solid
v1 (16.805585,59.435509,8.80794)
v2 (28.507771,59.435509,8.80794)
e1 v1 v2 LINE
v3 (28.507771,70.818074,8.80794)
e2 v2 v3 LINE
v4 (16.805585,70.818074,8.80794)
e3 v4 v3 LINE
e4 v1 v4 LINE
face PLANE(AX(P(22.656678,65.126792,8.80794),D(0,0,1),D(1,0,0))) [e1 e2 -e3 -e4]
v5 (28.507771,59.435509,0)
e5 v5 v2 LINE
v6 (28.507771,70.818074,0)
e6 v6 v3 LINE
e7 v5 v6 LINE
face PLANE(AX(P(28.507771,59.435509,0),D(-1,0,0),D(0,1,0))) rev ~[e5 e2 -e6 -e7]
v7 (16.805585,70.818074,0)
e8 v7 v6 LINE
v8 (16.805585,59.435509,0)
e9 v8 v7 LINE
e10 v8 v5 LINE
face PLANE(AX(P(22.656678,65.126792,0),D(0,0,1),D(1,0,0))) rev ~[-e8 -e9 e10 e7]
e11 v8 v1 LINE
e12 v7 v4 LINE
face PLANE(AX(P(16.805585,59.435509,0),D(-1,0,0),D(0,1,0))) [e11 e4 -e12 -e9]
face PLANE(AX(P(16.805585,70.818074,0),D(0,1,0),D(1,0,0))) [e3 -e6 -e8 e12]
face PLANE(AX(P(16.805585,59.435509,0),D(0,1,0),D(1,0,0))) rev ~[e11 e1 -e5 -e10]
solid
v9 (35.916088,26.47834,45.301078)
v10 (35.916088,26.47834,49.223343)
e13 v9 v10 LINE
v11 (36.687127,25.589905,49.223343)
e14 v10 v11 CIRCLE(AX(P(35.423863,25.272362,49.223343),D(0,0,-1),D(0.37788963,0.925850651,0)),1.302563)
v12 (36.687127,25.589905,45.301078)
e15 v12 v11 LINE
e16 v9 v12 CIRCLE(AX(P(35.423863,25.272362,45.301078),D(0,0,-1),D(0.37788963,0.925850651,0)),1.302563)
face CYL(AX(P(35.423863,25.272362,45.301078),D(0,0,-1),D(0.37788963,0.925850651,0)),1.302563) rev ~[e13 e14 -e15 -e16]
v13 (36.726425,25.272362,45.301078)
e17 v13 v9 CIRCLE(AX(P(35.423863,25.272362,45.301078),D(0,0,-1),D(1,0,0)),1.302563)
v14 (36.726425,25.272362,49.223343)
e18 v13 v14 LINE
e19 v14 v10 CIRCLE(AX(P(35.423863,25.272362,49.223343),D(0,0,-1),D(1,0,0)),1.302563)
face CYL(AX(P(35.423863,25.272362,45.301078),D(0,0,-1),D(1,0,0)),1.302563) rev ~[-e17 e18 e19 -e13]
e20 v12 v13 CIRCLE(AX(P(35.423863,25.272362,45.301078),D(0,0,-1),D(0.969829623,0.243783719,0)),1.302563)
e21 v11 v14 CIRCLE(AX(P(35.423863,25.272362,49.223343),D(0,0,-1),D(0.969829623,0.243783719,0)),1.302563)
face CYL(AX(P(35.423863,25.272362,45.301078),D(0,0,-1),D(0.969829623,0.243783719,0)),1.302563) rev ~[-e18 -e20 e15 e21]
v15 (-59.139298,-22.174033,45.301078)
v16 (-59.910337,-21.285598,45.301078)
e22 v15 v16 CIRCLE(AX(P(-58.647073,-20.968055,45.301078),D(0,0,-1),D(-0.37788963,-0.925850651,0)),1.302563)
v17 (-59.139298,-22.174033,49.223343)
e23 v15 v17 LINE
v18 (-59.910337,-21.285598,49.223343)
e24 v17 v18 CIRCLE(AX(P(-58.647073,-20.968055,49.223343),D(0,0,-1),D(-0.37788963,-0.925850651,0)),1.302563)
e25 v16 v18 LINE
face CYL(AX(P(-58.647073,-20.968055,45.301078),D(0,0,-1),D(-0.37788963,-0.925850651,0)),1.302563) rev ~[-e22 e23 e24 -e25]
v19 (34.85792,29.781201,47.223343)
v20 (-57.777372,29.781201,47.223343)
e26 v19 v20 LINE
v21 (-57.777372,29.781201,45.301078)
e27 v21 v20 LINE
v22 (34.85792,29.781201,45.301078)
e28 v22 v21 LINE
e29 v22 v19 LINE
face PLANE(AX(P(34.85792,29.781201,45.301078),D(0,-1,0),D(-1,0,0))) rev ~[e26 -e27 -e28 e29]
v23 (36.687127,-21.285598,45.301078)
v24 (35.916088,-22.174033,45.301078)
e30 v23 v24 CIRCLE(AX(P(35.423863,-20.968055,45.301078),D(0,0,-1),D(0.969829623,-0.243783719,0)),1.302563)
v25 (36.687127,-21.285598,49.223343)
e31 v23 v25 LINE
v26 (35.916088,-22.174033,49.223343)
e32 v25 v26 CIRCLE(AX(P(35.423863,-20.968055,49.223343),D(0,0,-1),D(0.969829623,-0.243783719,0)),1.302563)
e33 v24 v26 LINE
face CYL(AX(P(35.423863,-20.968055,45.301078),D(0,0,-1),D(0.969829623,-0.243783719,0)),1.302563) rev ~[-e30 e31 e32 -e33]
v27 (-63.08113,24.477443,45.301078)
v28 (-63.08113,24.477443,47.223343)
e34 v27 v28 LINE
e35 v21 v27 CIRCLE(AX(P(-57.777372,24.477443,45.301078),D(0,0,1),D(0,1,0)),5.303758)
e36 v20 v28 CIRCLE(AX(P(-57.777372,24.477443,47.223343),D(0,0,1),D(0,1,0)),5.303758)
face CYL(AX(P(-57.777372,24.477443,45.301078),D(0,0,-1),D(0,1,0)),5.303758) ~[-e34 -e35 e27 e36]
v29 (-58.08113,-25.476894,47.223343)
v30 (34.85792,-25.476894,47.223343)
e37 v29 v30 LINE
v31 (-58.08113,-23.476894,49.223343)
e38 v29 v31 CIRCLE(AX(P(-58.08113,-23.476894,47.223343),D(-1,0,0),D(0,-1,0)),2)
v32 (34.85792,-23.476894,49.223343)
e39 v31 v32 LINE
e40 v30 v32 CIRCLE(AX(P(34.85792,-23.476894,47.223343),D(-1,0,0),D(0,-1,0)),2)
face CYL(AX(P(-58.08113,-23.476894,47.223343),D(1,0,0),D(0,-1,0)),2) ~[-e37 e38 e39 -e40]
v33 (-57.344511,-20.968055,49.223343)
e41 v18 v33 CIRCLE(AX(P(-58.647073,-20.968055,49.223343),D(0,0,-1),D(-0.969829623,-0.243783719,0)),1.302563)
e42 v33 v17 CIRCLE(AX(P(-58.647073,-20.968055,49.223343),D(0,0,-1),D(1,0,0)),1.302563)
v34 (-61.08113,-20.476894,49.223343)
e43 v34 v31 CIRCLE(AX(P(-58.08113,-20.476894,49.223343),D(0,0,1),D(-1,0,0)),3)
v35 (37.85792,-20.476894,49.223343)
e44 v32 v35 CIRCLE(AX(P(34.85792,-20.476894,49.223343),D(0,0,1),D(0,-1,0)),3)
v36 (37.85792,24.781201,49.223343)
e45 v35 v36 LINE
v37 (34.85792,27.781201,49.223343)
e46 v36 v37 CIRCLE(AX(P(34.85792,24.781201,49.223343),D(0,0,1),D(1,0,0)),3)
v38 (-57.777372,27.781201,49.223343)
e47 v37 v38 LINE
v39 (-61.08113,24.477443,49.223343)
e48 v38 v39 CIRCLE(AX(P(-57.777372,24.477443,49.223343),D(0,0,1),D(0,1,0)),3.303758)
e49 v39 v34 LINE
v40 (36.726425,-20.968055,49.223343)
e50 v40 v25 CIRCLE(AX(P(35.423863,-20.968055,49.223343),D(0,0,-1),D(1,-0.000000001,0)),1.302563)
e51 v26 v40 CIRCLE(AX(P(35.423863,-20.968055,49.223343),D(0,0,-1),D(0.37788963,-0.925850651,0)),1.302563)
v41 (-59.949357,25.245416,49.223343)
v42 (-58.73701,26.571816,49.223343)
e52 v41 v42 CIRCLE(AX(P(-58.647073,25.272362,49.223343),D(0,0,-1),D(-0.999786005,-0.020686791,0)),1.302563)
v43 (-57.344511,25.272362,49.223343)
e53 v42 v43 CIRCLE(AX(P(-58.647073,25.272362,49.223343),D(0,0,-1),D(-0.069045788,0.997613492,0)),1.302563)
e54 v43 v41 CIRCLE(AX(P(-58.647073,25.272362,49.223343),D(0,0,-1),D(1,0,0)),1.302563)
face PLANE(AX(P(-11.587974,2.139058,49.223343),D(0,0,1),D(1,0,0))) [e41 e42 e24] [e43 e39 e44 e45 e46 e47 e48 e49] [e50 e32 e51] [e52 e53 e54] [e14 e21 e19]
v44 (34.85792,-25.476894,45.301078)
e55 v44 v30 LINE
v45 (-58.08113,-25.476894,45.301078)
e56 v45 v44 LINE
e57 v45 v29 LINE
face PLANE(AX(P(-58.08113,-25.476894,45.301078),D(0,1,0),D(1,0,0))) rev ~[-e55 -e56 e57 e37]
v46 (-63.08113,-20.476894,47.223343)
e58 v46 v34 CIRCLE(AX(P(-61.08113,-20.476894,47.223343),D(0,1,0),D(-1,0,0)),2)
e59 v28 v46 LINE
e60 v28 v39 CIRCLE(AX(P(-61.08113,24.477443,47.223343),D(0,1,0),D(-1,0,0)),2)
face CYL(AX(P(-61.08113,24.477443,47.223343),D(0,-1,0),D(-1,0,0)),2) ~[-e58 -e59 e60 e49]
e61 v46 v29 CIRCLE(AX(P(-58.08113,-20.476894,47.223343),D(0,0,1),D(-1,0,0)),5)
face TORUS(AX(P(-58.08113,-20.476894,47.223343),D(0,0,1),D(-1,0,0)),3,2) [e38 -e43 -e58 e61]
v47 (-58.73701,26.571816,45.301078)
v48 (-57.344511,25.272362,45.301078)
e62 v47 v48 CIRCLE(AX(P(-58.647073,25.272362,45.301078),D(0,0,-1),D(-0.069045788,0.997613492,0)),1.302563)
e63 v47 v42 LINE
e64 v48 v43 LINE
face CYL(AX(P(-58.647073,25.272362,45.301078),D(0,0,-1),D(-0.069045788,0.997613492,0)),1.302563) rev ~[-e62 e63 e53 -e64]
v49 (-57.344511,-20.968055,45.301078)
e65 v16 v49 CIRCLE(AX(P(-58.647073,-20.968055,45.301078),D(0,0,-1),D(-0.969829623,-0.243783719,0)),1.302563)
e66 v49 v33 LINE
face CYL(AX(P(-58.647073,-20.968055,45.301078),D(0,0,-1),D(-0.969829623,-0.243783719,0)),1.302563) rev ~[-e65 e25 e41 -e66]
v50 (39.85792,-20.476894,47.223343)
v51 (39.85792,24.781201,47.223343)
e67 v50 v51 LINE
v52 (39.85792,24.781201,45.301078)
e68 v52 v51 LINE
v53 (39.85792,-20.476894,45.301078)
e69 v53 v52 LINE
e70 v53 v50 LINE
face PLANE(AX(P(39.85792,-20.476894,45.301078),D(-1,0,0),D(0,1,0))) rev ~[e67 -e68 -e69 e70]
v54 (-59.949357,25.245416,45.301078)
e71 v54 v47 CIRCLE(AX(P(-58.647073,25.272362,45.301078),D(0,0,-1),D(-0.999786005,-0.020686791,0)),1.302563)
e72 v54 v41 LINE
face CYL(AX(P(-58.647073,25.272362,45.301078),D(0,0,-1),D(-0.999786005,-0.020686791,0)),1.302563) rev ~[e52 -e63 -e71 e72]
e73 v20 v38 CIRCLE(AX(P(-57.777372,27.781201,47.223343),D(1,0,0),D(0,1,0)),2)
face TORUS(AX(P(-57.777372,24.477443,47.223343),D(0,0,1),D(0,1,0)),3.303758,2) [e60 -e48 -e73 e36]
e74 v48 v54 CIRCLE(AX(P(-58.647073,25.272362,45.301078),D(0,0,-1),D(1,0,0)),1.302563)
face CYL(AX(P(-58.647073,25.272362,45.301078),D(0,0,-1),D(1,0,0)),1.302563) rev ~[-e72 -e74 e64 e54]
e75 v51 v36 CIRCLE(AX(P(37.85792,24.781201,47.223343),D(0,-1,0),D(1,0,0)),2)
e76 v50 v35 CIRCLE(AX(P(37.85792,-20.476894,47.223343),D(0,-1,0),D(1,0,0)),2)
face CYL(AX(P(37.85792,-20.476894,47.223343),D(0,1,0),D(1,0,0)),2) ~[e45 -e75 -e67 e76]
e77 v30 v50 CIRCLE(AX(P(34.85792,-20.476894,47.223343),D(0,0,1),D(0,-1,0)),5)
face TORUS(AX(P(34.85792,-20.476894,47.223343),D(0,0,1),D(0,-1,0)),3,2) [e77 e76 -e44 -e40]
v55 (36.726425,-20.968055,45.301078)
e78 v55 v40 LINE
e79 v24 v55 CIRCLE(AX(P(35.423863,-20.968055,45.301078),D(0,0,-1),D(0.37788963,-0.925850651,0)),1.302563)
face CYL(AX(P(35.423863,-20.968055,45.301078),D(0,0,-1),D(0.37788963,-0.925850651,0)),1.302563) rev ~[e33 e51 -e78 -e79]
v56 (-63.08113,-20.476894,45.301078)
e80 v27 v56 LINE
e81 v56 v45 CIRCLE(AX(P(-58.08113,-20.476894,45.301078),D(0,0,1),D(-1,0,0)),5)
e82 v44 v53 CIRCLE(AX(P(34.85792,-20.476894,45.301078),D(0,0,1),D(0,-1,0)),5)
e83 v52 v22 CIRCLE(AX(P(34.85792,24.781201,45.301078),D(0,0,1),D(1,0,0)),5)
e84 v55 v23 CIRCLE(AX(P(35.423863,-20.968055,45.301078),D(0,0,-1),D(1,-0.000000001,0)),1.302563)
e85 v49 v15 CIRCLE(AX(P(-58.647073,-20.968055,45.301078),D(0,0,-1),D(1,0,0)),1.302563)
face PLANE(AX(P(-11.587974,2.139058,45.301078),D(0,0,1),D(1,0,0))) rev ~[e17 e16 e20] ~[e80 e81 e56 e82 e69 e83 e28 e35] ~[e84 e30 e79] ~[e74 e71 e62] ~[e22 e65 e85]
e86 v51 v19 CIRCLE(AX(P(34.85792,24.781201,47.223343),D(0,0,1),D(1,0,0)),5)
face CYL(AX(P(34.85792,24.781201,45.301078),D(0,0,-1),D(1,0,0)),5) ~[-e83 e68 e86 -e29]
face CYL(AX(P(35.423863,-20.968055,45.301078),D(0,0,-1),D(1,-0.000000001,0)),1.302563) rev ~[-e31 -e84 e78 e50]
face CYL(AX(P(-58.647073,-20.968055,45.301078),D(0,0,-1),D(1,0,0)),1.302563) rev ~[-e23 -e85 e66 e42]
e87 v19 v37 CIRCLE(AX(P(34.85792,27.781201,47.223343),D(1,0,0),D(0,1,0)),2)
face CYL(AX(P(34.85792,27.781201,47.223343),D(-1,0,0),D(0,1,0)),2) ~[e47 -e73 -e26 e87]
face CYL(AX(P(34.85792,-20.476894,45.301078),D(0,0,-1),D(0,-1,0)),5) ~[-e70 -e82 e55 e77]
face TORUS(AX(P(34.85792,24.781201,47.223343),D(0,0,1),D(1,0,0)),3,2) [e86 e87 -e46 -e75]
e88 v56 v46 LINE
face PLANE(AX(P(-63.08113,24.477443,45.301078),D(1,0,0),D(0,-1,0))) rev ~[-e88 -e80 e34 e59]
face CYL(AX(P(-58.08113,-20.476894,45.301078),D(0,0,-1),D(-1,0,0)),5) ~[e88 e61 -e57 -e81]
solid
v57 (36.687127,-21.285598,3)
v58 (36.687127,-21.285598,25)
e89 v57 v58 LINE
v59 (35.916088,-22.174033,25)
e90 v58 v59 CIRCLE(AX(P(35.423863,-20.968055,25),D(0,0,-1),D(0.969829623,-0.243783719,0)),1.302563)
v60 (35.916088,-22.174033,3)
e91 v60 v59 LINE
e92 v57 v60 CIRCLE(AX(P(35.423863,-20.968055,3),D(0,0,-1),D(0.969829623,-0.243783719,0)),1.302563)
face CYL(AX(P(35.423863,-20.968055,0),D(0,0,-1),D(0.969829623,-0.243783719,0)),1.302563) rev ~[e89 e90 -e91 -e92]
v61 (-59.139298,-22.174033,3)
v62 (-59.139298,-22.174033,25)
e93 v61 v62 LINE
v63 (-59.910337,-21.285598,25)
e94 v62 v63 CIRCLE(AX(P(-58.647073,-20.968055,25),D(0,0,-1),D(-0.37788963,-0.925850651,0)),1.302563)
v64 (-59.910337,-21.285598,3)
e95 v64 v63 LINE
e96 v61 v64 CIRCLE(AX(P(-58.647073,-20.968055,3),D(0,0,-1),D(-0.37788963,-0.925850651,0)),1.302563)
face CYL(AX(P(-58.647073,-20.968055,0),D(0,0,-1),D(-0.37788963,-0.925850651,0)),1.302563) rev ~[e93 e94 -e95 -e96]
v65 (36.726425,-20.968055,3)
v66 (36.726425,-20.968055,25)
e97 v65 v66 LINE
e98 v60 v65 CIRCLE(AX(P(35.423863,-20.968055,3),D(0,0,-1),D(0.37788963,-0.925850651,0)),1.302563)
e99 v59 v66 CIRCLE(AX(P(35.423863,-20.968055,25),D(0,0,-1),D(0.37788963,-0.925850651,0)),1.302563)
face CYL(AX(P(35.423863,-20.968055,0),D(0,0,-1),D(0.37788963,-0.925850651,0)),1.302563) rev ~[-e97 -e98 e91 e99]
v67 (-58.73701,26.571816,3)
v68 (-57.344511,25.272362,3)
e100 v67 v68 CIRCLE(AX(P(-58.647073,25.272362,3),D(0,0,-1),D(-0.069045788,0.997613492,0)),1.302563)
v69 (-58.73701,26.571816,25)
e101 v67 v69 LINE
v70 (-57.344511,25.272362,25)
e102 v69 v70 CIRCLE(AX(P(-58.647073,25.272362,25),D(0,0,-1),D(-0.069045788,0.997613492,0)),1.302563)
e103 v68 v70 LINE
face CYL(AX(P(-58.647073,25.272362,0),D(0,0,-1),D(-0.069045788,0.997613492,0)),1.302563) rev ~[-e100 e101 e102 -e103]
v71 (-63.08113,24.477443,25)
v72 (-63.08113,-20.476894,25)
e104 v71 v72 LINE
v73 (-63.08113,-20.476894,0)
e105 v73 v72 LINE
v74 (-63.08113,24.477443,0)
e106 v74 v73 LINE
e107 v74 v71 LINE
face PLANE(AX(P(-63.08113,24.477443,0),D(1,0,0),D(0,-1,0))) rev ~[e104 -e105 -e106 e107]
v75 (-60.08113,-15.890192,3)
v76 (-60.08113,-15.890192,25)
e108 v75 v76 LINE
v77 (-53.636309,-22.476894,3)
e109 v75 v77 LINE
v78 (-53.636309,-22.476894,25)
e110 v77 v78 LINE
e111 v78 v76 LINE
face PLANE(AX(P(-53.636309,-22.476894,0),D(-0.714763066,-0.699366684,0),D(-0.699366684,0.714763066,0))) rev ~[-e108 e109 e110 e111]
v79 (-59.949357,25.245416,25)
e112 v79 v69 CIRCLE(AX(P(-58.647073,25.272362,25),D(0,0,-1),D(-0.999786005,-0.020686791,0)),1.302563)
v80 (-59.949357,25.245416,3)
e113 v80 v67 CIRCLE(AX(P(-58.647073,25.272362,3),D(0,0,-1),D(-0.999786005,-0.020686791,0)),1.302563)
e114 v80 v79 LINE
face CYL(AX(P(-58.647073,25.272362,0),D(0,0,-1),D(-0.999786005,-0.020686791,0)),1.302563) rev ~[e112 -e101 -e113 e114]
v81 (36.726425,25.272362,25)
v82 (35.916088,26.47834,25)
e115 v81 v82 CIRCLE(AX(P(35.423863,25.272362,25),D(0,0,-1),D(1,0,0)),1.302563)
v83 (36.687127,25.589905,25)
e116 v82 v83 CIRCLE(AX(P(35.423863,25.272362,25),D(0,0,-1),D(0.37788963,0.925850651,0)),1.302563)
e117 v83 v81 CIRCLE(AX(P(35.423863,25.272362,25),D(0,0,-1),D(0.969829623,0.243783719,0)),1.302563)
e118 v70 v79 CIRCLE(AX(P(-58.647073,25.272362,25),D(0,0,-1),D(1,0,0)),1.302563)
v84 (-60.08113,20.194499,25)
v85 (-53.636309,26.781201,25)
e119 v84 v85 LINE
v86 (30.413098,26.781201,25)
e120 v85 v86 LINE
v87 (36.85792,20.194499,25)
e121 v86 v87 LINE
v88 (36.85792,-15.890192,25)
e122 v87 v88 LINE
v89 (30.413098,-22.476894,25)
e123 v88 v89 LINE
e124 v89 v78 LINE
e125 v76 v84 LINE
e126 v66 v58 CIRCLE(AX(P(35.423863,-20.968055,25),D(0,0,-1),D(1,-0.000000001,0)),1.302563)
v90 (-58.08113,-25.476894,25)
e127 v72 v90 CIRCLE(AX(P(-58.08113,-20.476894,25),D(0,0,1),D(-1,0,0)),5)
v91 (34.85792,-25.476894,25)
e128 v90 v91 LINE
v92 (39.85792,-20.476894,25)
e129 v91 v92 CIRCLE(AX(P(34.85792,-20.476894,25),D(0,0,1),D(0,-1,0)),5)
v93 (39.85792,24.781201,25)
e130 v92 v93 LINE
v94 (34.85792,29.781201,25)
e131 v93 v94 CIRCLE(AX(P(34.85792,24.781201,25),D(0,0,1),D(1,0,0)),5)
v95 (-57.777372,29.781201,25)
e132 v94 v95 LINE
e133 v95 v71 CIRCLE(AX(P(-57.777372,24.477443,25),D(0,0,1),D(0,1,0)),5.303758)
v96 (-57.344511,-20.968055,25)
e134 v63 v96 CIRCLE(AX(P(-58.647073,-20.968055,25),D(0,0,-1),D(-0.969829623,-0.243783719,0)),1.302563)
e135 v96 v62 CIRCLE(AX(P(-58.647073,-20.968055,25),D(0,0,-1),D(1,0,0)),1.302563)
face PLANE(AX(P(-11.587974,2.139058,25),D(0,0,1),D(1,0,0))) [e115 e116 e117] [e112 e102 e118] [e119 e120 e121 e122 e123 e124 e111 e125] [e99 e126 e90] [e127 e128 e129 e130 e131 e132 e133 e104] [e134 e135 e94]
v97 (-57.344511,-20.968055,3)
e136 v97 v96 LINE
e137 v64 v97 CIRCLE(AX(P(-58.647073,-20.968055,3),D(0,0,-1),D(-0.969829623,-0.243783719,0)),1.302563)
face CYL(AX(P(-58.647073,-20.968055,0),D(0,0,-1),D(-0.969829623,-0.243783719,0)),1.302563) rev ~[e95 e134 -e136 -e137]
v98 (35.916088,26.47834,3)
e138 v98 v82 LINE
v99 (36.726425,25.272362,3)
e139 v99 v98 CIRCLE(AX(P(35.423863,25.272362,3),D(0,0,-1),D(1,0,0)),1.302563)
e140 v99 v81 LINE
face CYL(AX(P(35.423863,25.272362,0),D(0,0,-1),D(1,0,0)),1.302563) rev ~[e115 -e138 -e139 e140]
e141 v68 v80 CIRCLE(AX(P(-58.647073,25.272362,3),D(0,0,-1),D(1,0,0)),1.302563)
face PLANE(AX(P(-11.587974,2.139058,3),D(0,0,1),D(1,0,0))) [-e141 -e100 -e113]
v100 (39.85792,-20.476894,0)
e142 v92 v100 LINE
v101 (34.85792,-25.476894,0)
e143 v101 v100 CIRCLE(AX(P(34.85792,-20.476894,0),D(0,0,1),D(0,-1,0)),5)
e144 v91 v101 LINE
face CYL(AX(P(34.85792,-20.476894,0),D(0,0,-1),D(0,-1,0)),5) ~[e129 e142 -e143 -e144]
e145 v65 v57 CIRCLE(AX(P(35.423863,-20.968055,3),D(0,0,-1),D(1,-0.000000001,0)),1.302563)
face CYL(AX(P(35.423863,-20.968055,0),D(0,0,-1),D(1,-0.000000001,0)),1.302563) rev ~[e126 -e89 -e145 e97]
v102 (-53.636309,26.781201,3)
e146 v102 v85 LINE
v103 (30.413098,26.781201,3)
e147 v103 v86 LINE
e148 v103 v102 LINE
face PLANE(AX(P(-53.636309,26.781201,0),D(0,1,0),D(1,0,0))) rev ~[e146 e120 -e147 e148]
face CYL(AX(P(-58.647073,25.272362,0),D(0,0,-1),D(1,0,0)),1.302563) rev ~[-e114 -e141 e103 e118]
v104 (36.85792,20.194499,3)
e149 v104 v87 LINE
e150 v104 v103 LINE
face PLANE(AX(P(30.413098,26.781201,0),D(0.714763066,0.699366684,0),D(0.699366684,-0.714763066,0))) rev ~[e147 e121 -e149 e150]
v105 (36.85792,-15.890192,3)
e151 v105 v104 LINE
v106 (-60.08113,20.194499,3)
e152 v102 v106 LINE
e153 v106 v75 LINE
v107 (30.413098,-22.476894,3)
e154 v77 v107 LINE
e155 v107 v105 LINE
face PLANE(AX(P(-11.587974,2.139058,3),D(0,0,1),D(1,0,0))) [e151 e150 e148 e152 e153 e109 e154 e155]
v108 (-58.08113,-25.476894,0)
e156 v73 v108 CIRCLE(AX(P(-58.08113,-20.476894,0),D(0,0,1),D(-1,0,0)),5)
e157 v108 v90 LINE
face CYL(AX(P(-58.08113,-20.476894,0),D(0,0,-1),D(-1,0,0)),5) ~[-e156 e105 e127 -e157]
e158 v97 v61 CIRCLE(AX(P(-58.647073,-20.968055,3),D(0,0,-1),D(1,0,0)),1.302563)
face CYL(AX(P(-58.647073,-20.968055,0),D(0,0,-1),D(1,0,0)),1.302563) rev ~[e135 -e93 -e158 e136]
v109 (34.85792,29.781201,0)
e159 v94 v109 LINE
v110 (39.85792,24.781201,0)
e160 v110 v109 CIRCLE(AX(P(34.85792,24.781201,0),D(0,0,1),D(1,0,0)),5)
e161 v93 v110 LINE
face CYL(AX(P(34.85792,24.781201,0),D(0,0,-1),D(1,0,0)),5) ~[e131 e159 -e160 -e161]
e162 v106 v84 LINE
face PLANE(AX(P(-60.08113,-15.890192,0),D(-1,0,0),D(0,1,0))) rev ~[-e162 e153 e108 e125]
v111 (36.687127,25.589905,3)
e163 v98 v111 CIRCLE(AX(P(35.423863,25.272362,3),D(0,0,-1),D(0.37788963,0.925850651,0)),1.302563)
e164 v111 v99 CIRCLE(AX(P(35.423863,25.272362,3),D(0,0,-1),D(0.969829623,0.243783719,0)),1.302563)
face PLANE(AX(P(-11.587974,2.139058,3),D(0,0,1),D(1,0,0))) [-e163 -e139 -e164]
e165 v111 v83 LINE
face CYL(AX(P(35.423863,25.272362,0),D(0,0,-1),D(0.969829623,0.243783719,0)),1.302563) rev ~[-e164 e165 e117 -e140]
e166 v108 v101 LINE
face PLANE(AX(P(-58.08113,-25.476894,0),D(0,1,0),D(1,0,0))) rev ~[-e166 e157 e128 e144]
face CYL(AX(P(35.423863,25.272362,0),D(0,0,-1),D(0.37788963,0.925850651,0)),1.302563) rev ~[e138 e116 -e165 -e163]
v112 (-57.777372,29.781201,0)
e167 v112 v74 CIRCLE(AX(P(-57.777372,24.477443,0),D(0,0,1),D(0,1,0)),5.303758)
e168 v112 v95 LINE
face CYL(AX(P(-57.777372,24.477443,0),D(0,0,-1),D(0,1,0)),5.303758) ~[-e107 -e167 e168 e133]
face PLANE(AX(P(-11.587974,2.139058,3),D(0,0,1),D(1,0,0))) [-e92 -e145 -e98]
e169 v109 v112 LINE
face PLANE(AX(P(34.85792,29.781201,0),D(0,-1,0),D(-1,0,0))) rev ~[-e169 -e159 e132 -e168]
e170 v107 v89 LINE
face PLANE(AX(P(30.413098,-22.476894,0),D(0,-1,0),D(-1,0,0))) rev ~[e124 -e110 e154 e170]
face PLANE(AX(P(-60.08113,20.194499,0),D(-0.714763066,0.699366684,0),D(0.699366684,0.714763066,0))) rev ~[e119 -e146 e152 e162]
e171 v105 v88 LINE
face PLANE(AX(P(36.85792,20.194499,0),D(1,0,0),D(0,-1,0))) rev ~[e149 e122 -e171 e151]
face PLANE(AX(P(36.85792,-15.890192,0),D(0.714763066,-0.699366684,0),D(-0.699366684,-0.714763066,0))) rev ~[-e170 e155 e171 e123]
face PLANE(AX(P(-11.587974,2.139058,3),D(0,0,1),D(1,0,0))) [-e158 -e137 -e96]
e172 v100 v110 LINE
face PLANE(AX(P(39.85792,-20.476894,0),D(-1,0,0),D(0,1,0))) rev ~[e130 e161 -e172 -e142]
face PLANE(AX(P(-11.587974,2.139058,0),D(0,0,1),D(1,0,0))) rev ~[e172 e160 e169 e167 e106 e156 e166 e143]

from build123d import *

# Parameters (mm, degrees)
F1_W     = 11.7021854967
F1_H     = 11.3825649023
F2_DEPTH = 8.80794
F4_DEPTH = 3
F3_DEPTH = 25
F5_START = 45.3010783531
F5_DEPTH = 3.9222645573
F6_R     = 2


with BuildPart() as f2:
    # F1 (on Top) → F2 (new body)
    with BuildSketch(Plane.XY):
        with Locations((22.6566782221, 65.1267915964)):
            Rectangle(F1_W, F1_H)
    extrude(amount=F2_DEPTH)


with BuildPart() as f4:
    # F0 (on Top) → F4 (new body)
    with BuildSketch(Plane.XY):
        with BuildLine():
            Line((34.857919652, 29.7812012451), (-57.7773717009, 29.7812012451))
            ThreePointArc((-57.7773717009, 29.7812012451), (-61.5276951664, 28.2277664023), (-63.0811300092, 24.4774429368))
            Line((-63.0811300092, 24.4774429368), (-63.0811300092, -20.4768940194))
            ThreePointArc((-63.0811300092, -20.4768940194), (-61.6166639151, -24.0124279253), (-58.0811300092, -25.4768940194))
            Line((-58.0811300092, -25.4768940194), (34.857919652, -25.4768940194))
            ThreePointArc((34.857919652, -25.4768940194), (38.3934535579, -24.0124279253), (39.857919652, -20.4768940194))
            Line((39.857919652, -20.4768940194), (39.857919652, 24.7812012451))
            ThreePointArc((39.857919652, 24.7812012451), (38.3934535579, 28.316735151), (34.857919652, 29.7812012451))
        make_face()
        with BuildLine():
            ThreePointArc((-58.73700955, 26.5718157645), (-58.2684793981, 26.728246254), (-57.7773717009, 26.7812012451))
            Line((-57.7773717009, 26.7812012451), (-53.6363086646, 26.7812012451))
            Line((-53.6363086646, 26.7812012451), (30.4130983075, 26.7812012451))
            Line((30.4130983075, 26.7812012451), (34.857919652, 26.7812012451))
            ThreePointArc((34.857919652, 26.7812012451), (35.4082478015, 26.7039958071), (35.9160876252, 26.4783401729))
            ThreePointArc((35.9160876252, 26.4783401729), (36.4076128264, 26.1261211128), (36.6871265124, 25.5899053082))
            ThreePointArc((36.6871265124, 25.5899053082), (36.8147555829, 25.1944725114), (36.857919652, 24.7812012451))
            Line((36.857919652, 24.7812012451), (36.857919652, 20.1944987733))
            Line((36.857919652, 20.1944987733), (36.857919652, -15.8901915476))
            Line((36.857919652, -15.8901915476), (36.857919652, -20.4768940194))
            ThreePointArc((36.857919652, -20.4768940194), (36.8147555829, -20.8901652857), (36.6871265124, -21.2855980825))
            ThreePointArc((36.6871265124, -21.2855980825), (36.4076128264, -21.8218138871), (35.9160876252, -22.1740329472))
            ThreePointArc((35.9160876252, -22.1740329472), (35.4082478015, -22.3996885814), (34.857919652, -22.4768940194))
            Line((34.857919652, -22.4768940194), (30.4130983075, -22.4768940194))
            Line((30.4130983075, -22.4768940194), (-53.6363086646, -22.4768940194))
            Line((-53.6363086646, -22.4768940194), (-58.0811300092, -22.4768940194))
            ThreePointArc((-58.0811300092, -22.4768940194), (-58.6314581587, -22.3996885814), (-59.1392979824, -22.1740329472))
            ThreePointArc((-59.1392979824, -22.1740329472), (-59.6308231836, -21.8218138871), (-59.9103368696, -21.2855980825))
            ThreePointArc((-59.9103368696, -21.2855980825), (-60.0379659401, -20.8901652857), (-60.0811300092, -20.4768940194))
            Line((-60.0811300092, -20.4768940194), (-60.0811300092, -15.8901915476))
            Line((-60.0811300092, -15.8901915476), (-60.0811300092, 20.1944987733))
            Line((-60.0811300092, 20.1944987733), (-60.0811300092, 24.4774429368))
            ThreePointArc((-60.0811300092, 24.4774429368), (-60.0479477693, 24.8670410125), (-59.9493569321, 25.2454159171))
            ThreePointArc((-59.9493569321, 25.2454159171), (-59.6085321277, 26.1511483084), (-58.73700955, 26.5718157645))
        make_face(mode=Mode.SUBTRACT)
        Polygon((30.4130983075, 26.7812012451), (-53.6363086646, 26.7812012451), (-60.0811300092, 20.1944987733), (-60.0811300092, -15.8901915476), (-53.6363086646, -22.4768940194), (30.4130983075, -22.4768940194), (36.857919652, -15.8901915476), (36.857919652, 20.1944987733), align=None)
        with BuildLine():
            Line((34.857919652, 26.7812012451), (30.4130983075, 26.7812012451))
            Line((30.4130983075, 26.7812012451), (36.857919652, 20.1944987733))
            Line((36.857919652, 20.1944987733), (36.857919652, 24.7812012451))
            ThreePointArc((36.857919652, 24.7812012451), (36.8147555829, 25.1944725114), (36.6871265124, 25.5899053082))
            ThreePointArc((36.6871265124, 25.5899053082), (36.7165632812, 25.4323448054), (36.7264253162, 25.2723617573))
            ThreePointArc((36.7264253162, 25.2723617573), (34.342700624, 24.5458923649), (35.9160876252, 26.4783401729))
            ThreePointArc((35.9160876252, 26.4783401729), (35.4082478015, 26.7039958071), (34.857919652, 26.7812012451))
        make_face()
        with BuildLine():
            Line((-53.6363086646, -22.4768940194), (-60.0811300092, -15.8901915476))
            Line((-60.0811300092, -15.8901915476), (-60.0811300092, -20.4768940194))
            ThreePointArc((-60.0811300092, -20.4768940194), (-60.0379659401, -20.8901652857), (-59.9103368696, -21.2855980825))
            ThreePointArc((-59.9103368696, -21.2855980825), (-58.8070561381, -19.6753539832), (-57.3445105066, -20.9680545316))
            ThreePointArc((-57.3445105066, -20.9680545316), (-57.9206036976, -22.0492166404), (-59.1392979824, -22.1740329472))
            ThreePointArc((-59.1392979824, -22.1740329472), (-58.6314581587, -22.3996885814), (-58.0811300092, -22.4768940194))
            Line((-58.0811300092, -22.4768940194), (-53.6363086646, -22.4768940194))
        make_face()
        with BuildLine():
            Line((36.857919652, -20.4768940194), (36.857919652, -15.8901915476))
            Line((36.857919652, -15.8901915476), (30.4130983075, -22.4768940194))
            Line((30.4130983075, -22.4768940194), (34.857919652, -22.4768940194))
            ThreePointArc((34.857919652, -22.4768940194), (35.4082478015, -22.3996885814), (35.9160876252, -22.1740329472))
            ThreePointArc((35.9160876252, -22.1740329472), (34.342700624, -20.2415851392), (36.7264253162, -20.9680545316))
            ThreePointArc((36.7264253162, -20.9680545316), (36.7165632812, -21.1280375797), (36.6871265124, -21.2855980825))
            ThreePointArc((36.6871265124, -21.2855980825), (36.8147555829, -20.8901652857), (36.857919652, -20.4768940194))
        make_face()
        with BuildLine():
            Line((-53.6363086646, 26.7812012451), (-57.7773717009, 26.7812012451))
            ThreePointArc((-57.7773717009, 26.7812012451), (-58.2684793981, 26.728246254), (-58.73700955, 26.5718157645))
            ThreePointArc((-58.73700955, 26.5718157645), (-57.7583882707, 26.2246792336), (-57.3445105066, 25.2723617573))
            ThreePointArc((-57.3445105066, 25.2723617573), (-58.6335994491, 23.9698688611), (-59.9493569321, 25.2454159171))
            ThreePointArc((-59.9493569321, 25.2454159171), (-60.0479477693, 24.8670410125), (-60.0811300092, 24.4774429368))
            Line((-60.0811300092, 24.4774429368), (-60.0811300092, 20.1944987733))
            Line((-60.0811300092, 20.1944987733), (-53.6363086646, 26.7812012451))
        make_face()
        with BuildLine():
            ThreePointArc((-57.3445105066, -20.9680545316), (-58.8070561381, -19.6753539832), (-59.9103368696, -21.2855980825))
            ThreePointArc((-59.9103368696, -21.2855980825), (-59.591614198, -21.7877858972), (-59.1392979824, -22.1740329472))
            ThreePointArc((-59.1392979824, -22.1740329472), (-57.9206036976, -22.0492166404), (-57.3445105066, -20.9680545316))
        make_face()
        with BuildLine():
            ThreePointArc((36.6871265124, 25.5899053082), (36.3684038408, 26.0920931229), (35.9160876252, 26.4783401729))
            ThreePointArc((35.9160876252, 26.4783401729), (34.342700624, 24.5458923649), (36.7264253162, 25.2723617573))
            ThreePointArc((36.7264253162, 25.2723617573), (36.7165632812, 25.4323448054), (36.6871265124, 25.5899053082))
        make_face()
        with BuildLine():
            ThreePointArc((35.9160876252, -22.1740329472), (36.3684038408, -21.7877858972), (36.6871265124, -21.2855980825))
            ThreePointArc((36.6871265124, -21.2855980825), (36.7165632812, -21.1280375797), (36.7264253162, -20.9680545316))
            ThreePointArc((36.7264253162, -20.9680545316), (34.342700624, -20.2415851392), (35.9160876252, -22.1740329472))
        make_face()
        with BuildLine():
            ThreePointArc((-57.3445105066, 25.2723617573), (-57.7583882707, 26.2246792336), (-58.73700955, 26.5718157645))
            ThreePointArc((-58.73700955, 26.5718157645), (-59.4778421999, 26.0316959487), (-59.9493569321, 25.2454159171))
            ThreePointArc((-59.9493569321, 25.2454159171), (-58.6335994491, 23.9698688611), (-57.3445105066, 25.2723617573))
        make_face()
        with BuildLine():
            ThreePointArc((-59.9493569321, 25.2454159171), (-59.4778421999, 26.0316959487), (-58.73700955, 26.5718157645))
            ThreePointArc((-58.73700955, 26.5718157645), (-59.6085321277, 26.1511483084), (-59.9493569321, 25.2454159171))
        make_face()
        with BuildLine():
            ThreePointArc((-59.1392979824, -22.1740329472), (-59.591614198, -21.7877858972), (-59.9103368696, -21.2855980825))
            ThreePointArc((-59.9103368696, -21.2855980825), (-59.6308231836, -21.8218138871), (-59.1392979824, -22.1740329472))
        make_face()
        with BuildLine():
            ThreePointArc((36.6871265124, 25.5899053082), (36.4076128264, 26.1261211128), (35.9160876252, 26.4783401729))
            ThreePointArc((35.9160876252, 26.4783401729), (36.3684038408, 26.0920931229), (36.6871265124, 25.5899053082))
        make_face()
        with BuildLine():
            ThreePointArc((35.9160876252, -22.1740329472), (36.4076128264, -21.8218138871), (36.6871265124, -21.2855980825))
            ThreePointArc((36.6871265124, -21.2855980825), (36.3684038408, -21.7877858972), (35.9160876252, -22.1740329472))
        make_face()
    extrude(amount=F4_DEPTH)

    # F0 (on Top) → F3 (join)
    with BuildSketch(Plane.XY):
        with BuildLine():
            Line((34.857919652, 29.7812012451), (-57.7773717009, 29.7812012451))
            ThreePointArc((-57.7773717009, 29.7812012451), (-61.5276951664, 28.2277664023), (-63.0811300092, 24.4774429368))
            Line((-63.0811300092, 24.4774429368), (-63.0811300092, -20.4768940194))
            ThreePointArc((-63.0811300092, -20.4768940194), (-61.6166639151, -24.0124279253), (-58.0811300092, -25.4768940194))
            Line((-58.0811300092, -25.4768940194), (34.857919652, -25.4768940194))
            ThreePointArc((34.857919652, -25.4768940194), (38.3934535579, -24.0124279253), (39.857919652, -20.4768940194))
            Line((39.857919652, -20.4768940194), (39.857919652, 24.7812012451))
            ThreePointArc((39.857919652, 24.7812012451), (38.3934535579, 28.316735151), (34.857919652, 29.7812012451))
        make_face()
        with BuildLine():
            ThreePointArc((-58.73700955, 26.5718157645), (-58.2684793981, 26.728246254), (-57.7773717009, 26.7812012451))
            Line((-57.7773717009, 26.7812012451), (-53.6363086646, 26.7812012451))
            Line((-53.6363086646, 26.7812012451), (30.4130983075, 26.7812012451))
            Line((30.4130983075, 26.7812012451), (34.857919652, 26.7812012451))
            ThreePointArc((34.857919652, 26.7812012451), (35.4082478015, 26.7039958071), (35.9160876252, 26.4783401729))
            ThreePointArc((35.9160876252, 26.4783401729), (36.4076128264, 26.1261211128), (36.6871265124, 25.5899053082))
            ThreePointArc((36.6871265124, 25.5899053082), (36.8147555829, 25.1944725114), (36.857919652, 24.7812012451))
            Line((36.857919652, 24.7812012451), (36.857919652, 20.1944987733))
            Line((36.857919652, 20.1944987733), (36.857919652, -15.8901915476))
            Line((36.857919652, -15.8901915476), (36.857919652, -20.4768940194))
            ThreePointArc((36.857919652, -20.4768940194), (36.8147555829, -20.8901652857), (36.6871265124, -21.2855980825))
            ThreePointArc((36.6871265124, -21.2855980825), (36.4076128264, -21.8218138871), (35.9160876252, -22.1740329472))
            ThreePointArc((35.9160876252, -22.1740329472), (35.4082478015, -22.3996885814), (34.857919652, -22.4768940194))
            Line((34.857919652, -22.4768940194), (30.4130983075, -22.4768940194))
            Line((30.4130983075, -22.4768940194), (-53.6363086646, -22.4768940194))
            Line((-53.6363086646, -22.4768940194), (-58.0811300092, -22.4768940194))
            ThreePointArc((-58.0811300092, -22.4768940194), (-58.6314581587, -22.3996885814), (-59.1392979824, -22.1740329472))
            ThreePointArc((-59.1392979824, -22.1740329472), (-59.6308231836, -21.8218138871), (-59.9103368696, -21.2855980825))
            ThreePointArc((-59.9103368696, -21.2855980825), (-60.0379659401, -20.8901652857), (-60.0811300092, -20.4768940194))
            Line((-60.0811300092, -20.4768940194), (-60.0811300092, -15.8901915476))
            Line((-60.0811300092, -15.8901915476), (-60.0811300092, 20.1944987733))
            Line((-60.0811300092, 20.1944987733), (-60.0811300092, 24.4774429368))
            ThreePointArc((-60.0811300092, 24.4774429368), (-60.0479477693, 24.8670410125), (-59.9493569321, 25.2454159171))
            ThreePointArc((-59.9493569321, 25.2454159171), (-59.6085321277, 26.1511483084), (-58.73700955, 26.5718157645))
        make_face(mode=Mode.SUBTRACT)
        with BuildLine():
            Line((36.857919652, -20.4768940194), (36.857919652, -15.8901915476))
            Line((36.857919652, -15.8901915476), (30.4130983075, -22.4768940194))
            Line((30.4130983075, -22.4768940194), (34.857919652, -22.4768940194))
            ThreePointArc((34.857919652, -22.4768940194), (35.4082478015, -22.3996885814), (35.9160876252, -22.1740329472))
            ThreePointArc((35.9160876252, -22.1740329472), (34.342700624, -20.2415851392), (36.7264253162, -20.9680545316))
            ThreePointArc((36.7264253162, -20.9680545316), (36.7165632812, -21.1280375797), (36.6871265124, -21.2855980825))
            ThreePointArc((36.6871265124, -21.2855980825), (36.8147555829, -20.8901652857), (36.857919652, -20.4768940194))
        make_face()
        with BuildLine():
            Line((34.857919652, 26.7812012451), (30.4130983075, 26.7812012451))
            Line((30.4130983075, 26.7812012451), (36.857919652, 20.1944987733))
            Line((36.857919652, 20.1944987733), (36.857919652, 24.7812012451))
            ThreePointArc((36.857919652, 24.7812012451), (36.8147555829, 25.1944725114), (36.6871265124, 25.5899053082))
            ThreePointArc((36.6871265124, 25.5899053082), (36.7165632812, 25.4323448054), (36.7264253162, 25.2723617573))
            ThreePointArc((36.7264253162, 25.2723617573), (34.342700624, 24.5458923649), (35.9160876252, 26.4783401729))
            ThreePointArc((35.9160876252, 26.4783401729), (35.4082478015, 26.7039958071), (34.857919652, 26.7812012451))
        make_face()
        with BuildLine():
            Line((-53.6363086646, 26.7812012451), (-57.7773717009, 26.7812012451))
            ThreePointArc((-57.7773717009, 26.7812012451), (-58.2684793981, 26.728246254), (-58.73700955, 26.5718157645))
            ThreePointArc((-58.73700955, 26.5718157645), (-57.7583882707, 26.2246792336), (-57.3445105066, 25.2723617573))
            ThreePointArc((-57.3445105066, 25.2723617573), (-58.6335994491, 23.9698688611), (-59.9493569321, 25.2454159171))
            ThreePointArc((-59.9493569321, 25.2454159171), (-60.0479477693, 24.8670410125), (-60.0811300092, 24.4774429368))
            Line((-60.0811300092, 24.4774429368), (-60.0811300092, 20.1944987733))
            Line((-60.0811300092, 20.1944987733), (-53.6363086646, 26.7812012451))
        make_face()
        with BuildLine():
            Line((-53.6363086646, -22.4768940194), (-60.0811300092, -15.8901915476))
            Line((-60.0811300092, -15.8901915476), (-60.0811300092, -20.4768940194))
            ThreePointArc((-60.0811300092, -20.4768940194), (-60.0379659401, -20.8901652857), (-59.9103368696, -21.2855980825))
            ThreePointArc((-59.9103368696, -21.2855980825), (-58.8070561381, -19.6753539832), (-57.3445105066, -20.9680545316))
            ThreePointArc((-57.3445105066, -20.9680545316), (-57.9206036976, -22.0492166404), (-59.1392979824, -22.1740329472))
            ThreePointArc((-59.1392979824, -22.1740329472), (-58.6314581587, -22.3996885814), (-58.0811300092, -22.4768940194))
            Line((-58.0811300092, -22.4768940194), (-53.6363086646, -22.4768940194))
        make_face()
    extrude(amount=F3_DEPTH)


with BuildPart() as f5:
    # F0 (on Top) → F5 (new body)
    with BuildSketch(Plane.XY.offset(F5_START)):
        with BuildLine():
            Line((34.857919652, 29.7812012451), (-57.7773717009, 29.7812012451))
            ThreePointArc((-57.7773717009, 29.7812012451), (-61.5276951664, 28.2277664023), (-63.0811300092, 24.4774429368))
            Line((-63.0811300092, 24.4774429368), (-63.0811300092, -20.4768940194))
            ThreePointArc((-63.0811300092, -20.4768940194), (-61.6166639151, -24.0124279253), (-58.0811300092, -25.4768940194))
            Line((-58.0811300092, -25.4768940194), (34.857919652, -25.4768940194))
            ThreePointArc((34.857919652, -25.4768940194), (38.3934535579, -24.0124279253), (39.857919652, -20.4768940194))
            Line((39.857919652, -20.4768940194), (39.857919652, 24.7812012451))
            ThreePointArc((39.857919652, 24.7812012451), (38.3934535579, 28.316735151), (34.857919652, 29.7812012451))
        make_face()
        with BuildLine():
            ThreePointArc((-58.73700955, 26.5718157645), (-58.2684793981, 26.728246254), (-57.7773717009, 26.7812012451))
            Line((-57.7773717009, 26.7812012451), (-53.6363086646, 26.7812012451))
            Line((-53.6363086646, 26.7812012451), (30.4130983075, 26.7812012451))
            Line((30.4130983075, 26.7812012451), (34.857919652, 26.7812012451))
            ThreePointArc((34.857919652, 26.7812012451), (35.4082478015, 26.7039958071), (35.9160876252, 26.4783401729))
            ThreePointArc((35.9160876252, 26.4783401729), (36.4076128264, 26.1261211128), (36.6871265124, 25.5899053082))
            ThreePointArc((36.6871265124, 25.5899053082), (36.8147555829, 25.1944725114), (36.857919652, 24.7812012451))
            Line((36.857919652, 24.7812012451), (36.857919652, 20.1944987733))
            Line((36.857919652, 20.1944987733), (36.857919652, -15.8901915476))
            Line((36.857919652, -15.8901915476), (36.857919652, -20.4768940194))
            ThreePointArc((36.857919652, -20.4768940194), (36.8147555829, -20.8901652857), (36.6871265124, -21.2855980825))
            ThreePointArc((36.6871265124, -21.2855980825), (36.4076128264, -21.8218138871), (35.9160876252, -22.1740329472))
            ThreePointArc((35.9160876252, -22.1740329472), (35.4082478015, -22.3996885814), (34.857919652, -22.4768940194))
            Line((34.857919652, -22.4768940194), (30.4130983075, -22.4768940194))
            Line((30.4130983075, -22.4768940194), (-53.6363086646, -22.4768940194))
            Line((-53.6363086646, -22.4768940194), (-58.0811300092, -22.4768940194))
            ThreePointArc((-58.0811300092, -22.4768940194), (-58.6314581587, -22.3996885814), (-59.1392979824, -22.1740329472))
            ThreePointArc((-59.1392979824, -22.1740329472), (-59.6308231836, -21.8218138871), (-59.9103368696, -21.2855980825))
            ThreePointArc((-59.9103368696, -21.2855980825), (-60.0379659401, -20.8901652857), (-60.0811300092, -20.4768940194))
            Line((-60.0811300092, -20.4768940194), (-60.0811300092, -15.8901915476))
            Line((-60.0811300092, -15.8901915476), (-60.0811300092, 20.1944987733))
            Line((-60.0811300092, 20.1944987733), (-60.0811300092, 24.4774429368))
            ThreePointArc((-60.0811300092, 24.4774429368), (-60.0479477693, 24.8670410125), (-59.9493569321, 25.2454159171))
            ThreePointArc((-59.9493569321, 25.2454159171), (-59.6085321277, 26.1511483084), (-58.73700955, 26.5718157645))
        make_face(mode=Mode.SUBTRACT)
        Polygon((30.4130983075, 26.7812012451), (-53.6363086646, 26.7812012451), (-60.0811300092, 20.1944987733), (-60.0811300092, -15.8901915476), (-53.6363086646, -22.4768940194), (30.4130983075, -22.4768940194), (36.857919652, -15.8901915476), (36.857919652, 20.1944987733), align=None)
        with BuildLine():
            Line((36.857919652, -20.4768940194), (36.857919652, -15.8901915476))
            Line((36.857919652, -15.8901915476), (30.4130983075, -22.4768940194))
            Line((30.4130983075, -22.4768940194), (34.857919652, -22.4768940194))
            ThreePointArc((34.857919652, -22.4768940194), (35.4082478015, -22.3996885814), (35.9160876252, -22.1740329472))
            ThreePointArc((35.9160876252, -22.1740329472), (34.342700624, -20.2415851392), (36.7264253162, -20.9680545316))
            ThreePointArc((36.7264253162, -20.9680545316), (36.7165632812, -21.1280375797), (36.6871265124, -21.2855980825))
            ThreePointArc((36.6871265124, -21.2855980825), (36.8147555829, -20.8901652857), (36.857919652, -20.4768940194))
        make_face()
        with BuildLine():
            Line((34.857919652, 26.7812012451), (30.4130983075, 26.7812012451))
            Line((30.4130983075, 26.7812012451), (36.857919652, 20.1944987733))
            Line((36.857919652, 20.1944987733), (36.857919652, 24.7812012451))
            ThreePointArc((36.857919652, 24.7812012451), (36.8147555829, 25.1944725114), (36.6871265124, 25.5899053082))
            ThreePointArc((36.6871265124, 25.5899053082), (36.7165632812, 25.4323448054), (36.7264253162, 25.2723617573))
            ThreePointArc((36.7264253162, 25.2723617573), (34.342700624, 24.5458923649), (35.9160876252, 26.4783401729))
            ThreePointArc((35.9160876252, 26.4783401729), (35.4082478015, 26.7039958071), (34.857919652, 26.7812012451))
        make_face()
        with BuildLine():
            Line((-53.6363086646, -22.4768940194), (-60.0811300092, -15.8901915476))
            Line((-60.0811300092, -15.8901915476), (-60.0811300092, -20.4768940194))
            ThreePointArc((-60.0811300092, -20.4768940194), (-60.0379659401, -20.8901652857), (-59.9103368696, -21.2855980825))
            ThreePointArc((-59.9103368696, -21.2855980825), (-58.8070561381, -19.6753539832), (-57.3445105066, -20.9680545316))
            ThreePointArc((-57.3445105066, -20.9680545316), (-57.9206036976, -22.0492166404), (-59.1392979824, -22.1740329472))
            ThreePointArc((-59.1392979824, -22.1740329472), (-58.6314581587, -22.3996885814), (-58.0811300092, -22.4768940194))
            Line((-58.0811300092, -22.4768940194), (-53.6363086646, -22.4768940194))
        make_face()
        with BuildLine():
            Line((-53.6363086646, 26.7812012451), (-57.7773717009, 26.7812012451))
            ThreePointArc((-57.7773717009, 26.7812012451), (-58.2684793981, 26.728246254), (-58.73700955, 26.5718157645))
            ThreePointArc((-58.73700955, 26.5718157645), (-57.7583882707, 26.2246792336), (-57.3445105066, 25.2723617573))
            ThreePointArc((-57.3445105066, 25.2723617573), (-58.6335994491, 23.9698688611), (-59.9493569321, 25.2454159171))
            ThreePointArc((-59.9493569321, 25.2454159171), (-60.0479477693, 24.8670410125), (-60.0811300092, 24.4774429368))
            Line((-60.0811300092, 24.4774429368), (-60.0811300092, 20.1944987733))
            Line((-60.0811300092, 20.1944987733), (-53.6363086646, 26.7812012451))
        make_face()
    extrude(amount=F5_DEPTH)

    # F6
    f6_edges = [f5.edges().sort_by_distance(p)[0] for p in [
        (-11.459726, 29.781201, 49.223343),
        (-63.08113, 2.000274, 49.223343),
    ]]
    fillet(f6_edges, radius=F6_R)


solid = Compound([f2.part, f4.part, f5.part])
